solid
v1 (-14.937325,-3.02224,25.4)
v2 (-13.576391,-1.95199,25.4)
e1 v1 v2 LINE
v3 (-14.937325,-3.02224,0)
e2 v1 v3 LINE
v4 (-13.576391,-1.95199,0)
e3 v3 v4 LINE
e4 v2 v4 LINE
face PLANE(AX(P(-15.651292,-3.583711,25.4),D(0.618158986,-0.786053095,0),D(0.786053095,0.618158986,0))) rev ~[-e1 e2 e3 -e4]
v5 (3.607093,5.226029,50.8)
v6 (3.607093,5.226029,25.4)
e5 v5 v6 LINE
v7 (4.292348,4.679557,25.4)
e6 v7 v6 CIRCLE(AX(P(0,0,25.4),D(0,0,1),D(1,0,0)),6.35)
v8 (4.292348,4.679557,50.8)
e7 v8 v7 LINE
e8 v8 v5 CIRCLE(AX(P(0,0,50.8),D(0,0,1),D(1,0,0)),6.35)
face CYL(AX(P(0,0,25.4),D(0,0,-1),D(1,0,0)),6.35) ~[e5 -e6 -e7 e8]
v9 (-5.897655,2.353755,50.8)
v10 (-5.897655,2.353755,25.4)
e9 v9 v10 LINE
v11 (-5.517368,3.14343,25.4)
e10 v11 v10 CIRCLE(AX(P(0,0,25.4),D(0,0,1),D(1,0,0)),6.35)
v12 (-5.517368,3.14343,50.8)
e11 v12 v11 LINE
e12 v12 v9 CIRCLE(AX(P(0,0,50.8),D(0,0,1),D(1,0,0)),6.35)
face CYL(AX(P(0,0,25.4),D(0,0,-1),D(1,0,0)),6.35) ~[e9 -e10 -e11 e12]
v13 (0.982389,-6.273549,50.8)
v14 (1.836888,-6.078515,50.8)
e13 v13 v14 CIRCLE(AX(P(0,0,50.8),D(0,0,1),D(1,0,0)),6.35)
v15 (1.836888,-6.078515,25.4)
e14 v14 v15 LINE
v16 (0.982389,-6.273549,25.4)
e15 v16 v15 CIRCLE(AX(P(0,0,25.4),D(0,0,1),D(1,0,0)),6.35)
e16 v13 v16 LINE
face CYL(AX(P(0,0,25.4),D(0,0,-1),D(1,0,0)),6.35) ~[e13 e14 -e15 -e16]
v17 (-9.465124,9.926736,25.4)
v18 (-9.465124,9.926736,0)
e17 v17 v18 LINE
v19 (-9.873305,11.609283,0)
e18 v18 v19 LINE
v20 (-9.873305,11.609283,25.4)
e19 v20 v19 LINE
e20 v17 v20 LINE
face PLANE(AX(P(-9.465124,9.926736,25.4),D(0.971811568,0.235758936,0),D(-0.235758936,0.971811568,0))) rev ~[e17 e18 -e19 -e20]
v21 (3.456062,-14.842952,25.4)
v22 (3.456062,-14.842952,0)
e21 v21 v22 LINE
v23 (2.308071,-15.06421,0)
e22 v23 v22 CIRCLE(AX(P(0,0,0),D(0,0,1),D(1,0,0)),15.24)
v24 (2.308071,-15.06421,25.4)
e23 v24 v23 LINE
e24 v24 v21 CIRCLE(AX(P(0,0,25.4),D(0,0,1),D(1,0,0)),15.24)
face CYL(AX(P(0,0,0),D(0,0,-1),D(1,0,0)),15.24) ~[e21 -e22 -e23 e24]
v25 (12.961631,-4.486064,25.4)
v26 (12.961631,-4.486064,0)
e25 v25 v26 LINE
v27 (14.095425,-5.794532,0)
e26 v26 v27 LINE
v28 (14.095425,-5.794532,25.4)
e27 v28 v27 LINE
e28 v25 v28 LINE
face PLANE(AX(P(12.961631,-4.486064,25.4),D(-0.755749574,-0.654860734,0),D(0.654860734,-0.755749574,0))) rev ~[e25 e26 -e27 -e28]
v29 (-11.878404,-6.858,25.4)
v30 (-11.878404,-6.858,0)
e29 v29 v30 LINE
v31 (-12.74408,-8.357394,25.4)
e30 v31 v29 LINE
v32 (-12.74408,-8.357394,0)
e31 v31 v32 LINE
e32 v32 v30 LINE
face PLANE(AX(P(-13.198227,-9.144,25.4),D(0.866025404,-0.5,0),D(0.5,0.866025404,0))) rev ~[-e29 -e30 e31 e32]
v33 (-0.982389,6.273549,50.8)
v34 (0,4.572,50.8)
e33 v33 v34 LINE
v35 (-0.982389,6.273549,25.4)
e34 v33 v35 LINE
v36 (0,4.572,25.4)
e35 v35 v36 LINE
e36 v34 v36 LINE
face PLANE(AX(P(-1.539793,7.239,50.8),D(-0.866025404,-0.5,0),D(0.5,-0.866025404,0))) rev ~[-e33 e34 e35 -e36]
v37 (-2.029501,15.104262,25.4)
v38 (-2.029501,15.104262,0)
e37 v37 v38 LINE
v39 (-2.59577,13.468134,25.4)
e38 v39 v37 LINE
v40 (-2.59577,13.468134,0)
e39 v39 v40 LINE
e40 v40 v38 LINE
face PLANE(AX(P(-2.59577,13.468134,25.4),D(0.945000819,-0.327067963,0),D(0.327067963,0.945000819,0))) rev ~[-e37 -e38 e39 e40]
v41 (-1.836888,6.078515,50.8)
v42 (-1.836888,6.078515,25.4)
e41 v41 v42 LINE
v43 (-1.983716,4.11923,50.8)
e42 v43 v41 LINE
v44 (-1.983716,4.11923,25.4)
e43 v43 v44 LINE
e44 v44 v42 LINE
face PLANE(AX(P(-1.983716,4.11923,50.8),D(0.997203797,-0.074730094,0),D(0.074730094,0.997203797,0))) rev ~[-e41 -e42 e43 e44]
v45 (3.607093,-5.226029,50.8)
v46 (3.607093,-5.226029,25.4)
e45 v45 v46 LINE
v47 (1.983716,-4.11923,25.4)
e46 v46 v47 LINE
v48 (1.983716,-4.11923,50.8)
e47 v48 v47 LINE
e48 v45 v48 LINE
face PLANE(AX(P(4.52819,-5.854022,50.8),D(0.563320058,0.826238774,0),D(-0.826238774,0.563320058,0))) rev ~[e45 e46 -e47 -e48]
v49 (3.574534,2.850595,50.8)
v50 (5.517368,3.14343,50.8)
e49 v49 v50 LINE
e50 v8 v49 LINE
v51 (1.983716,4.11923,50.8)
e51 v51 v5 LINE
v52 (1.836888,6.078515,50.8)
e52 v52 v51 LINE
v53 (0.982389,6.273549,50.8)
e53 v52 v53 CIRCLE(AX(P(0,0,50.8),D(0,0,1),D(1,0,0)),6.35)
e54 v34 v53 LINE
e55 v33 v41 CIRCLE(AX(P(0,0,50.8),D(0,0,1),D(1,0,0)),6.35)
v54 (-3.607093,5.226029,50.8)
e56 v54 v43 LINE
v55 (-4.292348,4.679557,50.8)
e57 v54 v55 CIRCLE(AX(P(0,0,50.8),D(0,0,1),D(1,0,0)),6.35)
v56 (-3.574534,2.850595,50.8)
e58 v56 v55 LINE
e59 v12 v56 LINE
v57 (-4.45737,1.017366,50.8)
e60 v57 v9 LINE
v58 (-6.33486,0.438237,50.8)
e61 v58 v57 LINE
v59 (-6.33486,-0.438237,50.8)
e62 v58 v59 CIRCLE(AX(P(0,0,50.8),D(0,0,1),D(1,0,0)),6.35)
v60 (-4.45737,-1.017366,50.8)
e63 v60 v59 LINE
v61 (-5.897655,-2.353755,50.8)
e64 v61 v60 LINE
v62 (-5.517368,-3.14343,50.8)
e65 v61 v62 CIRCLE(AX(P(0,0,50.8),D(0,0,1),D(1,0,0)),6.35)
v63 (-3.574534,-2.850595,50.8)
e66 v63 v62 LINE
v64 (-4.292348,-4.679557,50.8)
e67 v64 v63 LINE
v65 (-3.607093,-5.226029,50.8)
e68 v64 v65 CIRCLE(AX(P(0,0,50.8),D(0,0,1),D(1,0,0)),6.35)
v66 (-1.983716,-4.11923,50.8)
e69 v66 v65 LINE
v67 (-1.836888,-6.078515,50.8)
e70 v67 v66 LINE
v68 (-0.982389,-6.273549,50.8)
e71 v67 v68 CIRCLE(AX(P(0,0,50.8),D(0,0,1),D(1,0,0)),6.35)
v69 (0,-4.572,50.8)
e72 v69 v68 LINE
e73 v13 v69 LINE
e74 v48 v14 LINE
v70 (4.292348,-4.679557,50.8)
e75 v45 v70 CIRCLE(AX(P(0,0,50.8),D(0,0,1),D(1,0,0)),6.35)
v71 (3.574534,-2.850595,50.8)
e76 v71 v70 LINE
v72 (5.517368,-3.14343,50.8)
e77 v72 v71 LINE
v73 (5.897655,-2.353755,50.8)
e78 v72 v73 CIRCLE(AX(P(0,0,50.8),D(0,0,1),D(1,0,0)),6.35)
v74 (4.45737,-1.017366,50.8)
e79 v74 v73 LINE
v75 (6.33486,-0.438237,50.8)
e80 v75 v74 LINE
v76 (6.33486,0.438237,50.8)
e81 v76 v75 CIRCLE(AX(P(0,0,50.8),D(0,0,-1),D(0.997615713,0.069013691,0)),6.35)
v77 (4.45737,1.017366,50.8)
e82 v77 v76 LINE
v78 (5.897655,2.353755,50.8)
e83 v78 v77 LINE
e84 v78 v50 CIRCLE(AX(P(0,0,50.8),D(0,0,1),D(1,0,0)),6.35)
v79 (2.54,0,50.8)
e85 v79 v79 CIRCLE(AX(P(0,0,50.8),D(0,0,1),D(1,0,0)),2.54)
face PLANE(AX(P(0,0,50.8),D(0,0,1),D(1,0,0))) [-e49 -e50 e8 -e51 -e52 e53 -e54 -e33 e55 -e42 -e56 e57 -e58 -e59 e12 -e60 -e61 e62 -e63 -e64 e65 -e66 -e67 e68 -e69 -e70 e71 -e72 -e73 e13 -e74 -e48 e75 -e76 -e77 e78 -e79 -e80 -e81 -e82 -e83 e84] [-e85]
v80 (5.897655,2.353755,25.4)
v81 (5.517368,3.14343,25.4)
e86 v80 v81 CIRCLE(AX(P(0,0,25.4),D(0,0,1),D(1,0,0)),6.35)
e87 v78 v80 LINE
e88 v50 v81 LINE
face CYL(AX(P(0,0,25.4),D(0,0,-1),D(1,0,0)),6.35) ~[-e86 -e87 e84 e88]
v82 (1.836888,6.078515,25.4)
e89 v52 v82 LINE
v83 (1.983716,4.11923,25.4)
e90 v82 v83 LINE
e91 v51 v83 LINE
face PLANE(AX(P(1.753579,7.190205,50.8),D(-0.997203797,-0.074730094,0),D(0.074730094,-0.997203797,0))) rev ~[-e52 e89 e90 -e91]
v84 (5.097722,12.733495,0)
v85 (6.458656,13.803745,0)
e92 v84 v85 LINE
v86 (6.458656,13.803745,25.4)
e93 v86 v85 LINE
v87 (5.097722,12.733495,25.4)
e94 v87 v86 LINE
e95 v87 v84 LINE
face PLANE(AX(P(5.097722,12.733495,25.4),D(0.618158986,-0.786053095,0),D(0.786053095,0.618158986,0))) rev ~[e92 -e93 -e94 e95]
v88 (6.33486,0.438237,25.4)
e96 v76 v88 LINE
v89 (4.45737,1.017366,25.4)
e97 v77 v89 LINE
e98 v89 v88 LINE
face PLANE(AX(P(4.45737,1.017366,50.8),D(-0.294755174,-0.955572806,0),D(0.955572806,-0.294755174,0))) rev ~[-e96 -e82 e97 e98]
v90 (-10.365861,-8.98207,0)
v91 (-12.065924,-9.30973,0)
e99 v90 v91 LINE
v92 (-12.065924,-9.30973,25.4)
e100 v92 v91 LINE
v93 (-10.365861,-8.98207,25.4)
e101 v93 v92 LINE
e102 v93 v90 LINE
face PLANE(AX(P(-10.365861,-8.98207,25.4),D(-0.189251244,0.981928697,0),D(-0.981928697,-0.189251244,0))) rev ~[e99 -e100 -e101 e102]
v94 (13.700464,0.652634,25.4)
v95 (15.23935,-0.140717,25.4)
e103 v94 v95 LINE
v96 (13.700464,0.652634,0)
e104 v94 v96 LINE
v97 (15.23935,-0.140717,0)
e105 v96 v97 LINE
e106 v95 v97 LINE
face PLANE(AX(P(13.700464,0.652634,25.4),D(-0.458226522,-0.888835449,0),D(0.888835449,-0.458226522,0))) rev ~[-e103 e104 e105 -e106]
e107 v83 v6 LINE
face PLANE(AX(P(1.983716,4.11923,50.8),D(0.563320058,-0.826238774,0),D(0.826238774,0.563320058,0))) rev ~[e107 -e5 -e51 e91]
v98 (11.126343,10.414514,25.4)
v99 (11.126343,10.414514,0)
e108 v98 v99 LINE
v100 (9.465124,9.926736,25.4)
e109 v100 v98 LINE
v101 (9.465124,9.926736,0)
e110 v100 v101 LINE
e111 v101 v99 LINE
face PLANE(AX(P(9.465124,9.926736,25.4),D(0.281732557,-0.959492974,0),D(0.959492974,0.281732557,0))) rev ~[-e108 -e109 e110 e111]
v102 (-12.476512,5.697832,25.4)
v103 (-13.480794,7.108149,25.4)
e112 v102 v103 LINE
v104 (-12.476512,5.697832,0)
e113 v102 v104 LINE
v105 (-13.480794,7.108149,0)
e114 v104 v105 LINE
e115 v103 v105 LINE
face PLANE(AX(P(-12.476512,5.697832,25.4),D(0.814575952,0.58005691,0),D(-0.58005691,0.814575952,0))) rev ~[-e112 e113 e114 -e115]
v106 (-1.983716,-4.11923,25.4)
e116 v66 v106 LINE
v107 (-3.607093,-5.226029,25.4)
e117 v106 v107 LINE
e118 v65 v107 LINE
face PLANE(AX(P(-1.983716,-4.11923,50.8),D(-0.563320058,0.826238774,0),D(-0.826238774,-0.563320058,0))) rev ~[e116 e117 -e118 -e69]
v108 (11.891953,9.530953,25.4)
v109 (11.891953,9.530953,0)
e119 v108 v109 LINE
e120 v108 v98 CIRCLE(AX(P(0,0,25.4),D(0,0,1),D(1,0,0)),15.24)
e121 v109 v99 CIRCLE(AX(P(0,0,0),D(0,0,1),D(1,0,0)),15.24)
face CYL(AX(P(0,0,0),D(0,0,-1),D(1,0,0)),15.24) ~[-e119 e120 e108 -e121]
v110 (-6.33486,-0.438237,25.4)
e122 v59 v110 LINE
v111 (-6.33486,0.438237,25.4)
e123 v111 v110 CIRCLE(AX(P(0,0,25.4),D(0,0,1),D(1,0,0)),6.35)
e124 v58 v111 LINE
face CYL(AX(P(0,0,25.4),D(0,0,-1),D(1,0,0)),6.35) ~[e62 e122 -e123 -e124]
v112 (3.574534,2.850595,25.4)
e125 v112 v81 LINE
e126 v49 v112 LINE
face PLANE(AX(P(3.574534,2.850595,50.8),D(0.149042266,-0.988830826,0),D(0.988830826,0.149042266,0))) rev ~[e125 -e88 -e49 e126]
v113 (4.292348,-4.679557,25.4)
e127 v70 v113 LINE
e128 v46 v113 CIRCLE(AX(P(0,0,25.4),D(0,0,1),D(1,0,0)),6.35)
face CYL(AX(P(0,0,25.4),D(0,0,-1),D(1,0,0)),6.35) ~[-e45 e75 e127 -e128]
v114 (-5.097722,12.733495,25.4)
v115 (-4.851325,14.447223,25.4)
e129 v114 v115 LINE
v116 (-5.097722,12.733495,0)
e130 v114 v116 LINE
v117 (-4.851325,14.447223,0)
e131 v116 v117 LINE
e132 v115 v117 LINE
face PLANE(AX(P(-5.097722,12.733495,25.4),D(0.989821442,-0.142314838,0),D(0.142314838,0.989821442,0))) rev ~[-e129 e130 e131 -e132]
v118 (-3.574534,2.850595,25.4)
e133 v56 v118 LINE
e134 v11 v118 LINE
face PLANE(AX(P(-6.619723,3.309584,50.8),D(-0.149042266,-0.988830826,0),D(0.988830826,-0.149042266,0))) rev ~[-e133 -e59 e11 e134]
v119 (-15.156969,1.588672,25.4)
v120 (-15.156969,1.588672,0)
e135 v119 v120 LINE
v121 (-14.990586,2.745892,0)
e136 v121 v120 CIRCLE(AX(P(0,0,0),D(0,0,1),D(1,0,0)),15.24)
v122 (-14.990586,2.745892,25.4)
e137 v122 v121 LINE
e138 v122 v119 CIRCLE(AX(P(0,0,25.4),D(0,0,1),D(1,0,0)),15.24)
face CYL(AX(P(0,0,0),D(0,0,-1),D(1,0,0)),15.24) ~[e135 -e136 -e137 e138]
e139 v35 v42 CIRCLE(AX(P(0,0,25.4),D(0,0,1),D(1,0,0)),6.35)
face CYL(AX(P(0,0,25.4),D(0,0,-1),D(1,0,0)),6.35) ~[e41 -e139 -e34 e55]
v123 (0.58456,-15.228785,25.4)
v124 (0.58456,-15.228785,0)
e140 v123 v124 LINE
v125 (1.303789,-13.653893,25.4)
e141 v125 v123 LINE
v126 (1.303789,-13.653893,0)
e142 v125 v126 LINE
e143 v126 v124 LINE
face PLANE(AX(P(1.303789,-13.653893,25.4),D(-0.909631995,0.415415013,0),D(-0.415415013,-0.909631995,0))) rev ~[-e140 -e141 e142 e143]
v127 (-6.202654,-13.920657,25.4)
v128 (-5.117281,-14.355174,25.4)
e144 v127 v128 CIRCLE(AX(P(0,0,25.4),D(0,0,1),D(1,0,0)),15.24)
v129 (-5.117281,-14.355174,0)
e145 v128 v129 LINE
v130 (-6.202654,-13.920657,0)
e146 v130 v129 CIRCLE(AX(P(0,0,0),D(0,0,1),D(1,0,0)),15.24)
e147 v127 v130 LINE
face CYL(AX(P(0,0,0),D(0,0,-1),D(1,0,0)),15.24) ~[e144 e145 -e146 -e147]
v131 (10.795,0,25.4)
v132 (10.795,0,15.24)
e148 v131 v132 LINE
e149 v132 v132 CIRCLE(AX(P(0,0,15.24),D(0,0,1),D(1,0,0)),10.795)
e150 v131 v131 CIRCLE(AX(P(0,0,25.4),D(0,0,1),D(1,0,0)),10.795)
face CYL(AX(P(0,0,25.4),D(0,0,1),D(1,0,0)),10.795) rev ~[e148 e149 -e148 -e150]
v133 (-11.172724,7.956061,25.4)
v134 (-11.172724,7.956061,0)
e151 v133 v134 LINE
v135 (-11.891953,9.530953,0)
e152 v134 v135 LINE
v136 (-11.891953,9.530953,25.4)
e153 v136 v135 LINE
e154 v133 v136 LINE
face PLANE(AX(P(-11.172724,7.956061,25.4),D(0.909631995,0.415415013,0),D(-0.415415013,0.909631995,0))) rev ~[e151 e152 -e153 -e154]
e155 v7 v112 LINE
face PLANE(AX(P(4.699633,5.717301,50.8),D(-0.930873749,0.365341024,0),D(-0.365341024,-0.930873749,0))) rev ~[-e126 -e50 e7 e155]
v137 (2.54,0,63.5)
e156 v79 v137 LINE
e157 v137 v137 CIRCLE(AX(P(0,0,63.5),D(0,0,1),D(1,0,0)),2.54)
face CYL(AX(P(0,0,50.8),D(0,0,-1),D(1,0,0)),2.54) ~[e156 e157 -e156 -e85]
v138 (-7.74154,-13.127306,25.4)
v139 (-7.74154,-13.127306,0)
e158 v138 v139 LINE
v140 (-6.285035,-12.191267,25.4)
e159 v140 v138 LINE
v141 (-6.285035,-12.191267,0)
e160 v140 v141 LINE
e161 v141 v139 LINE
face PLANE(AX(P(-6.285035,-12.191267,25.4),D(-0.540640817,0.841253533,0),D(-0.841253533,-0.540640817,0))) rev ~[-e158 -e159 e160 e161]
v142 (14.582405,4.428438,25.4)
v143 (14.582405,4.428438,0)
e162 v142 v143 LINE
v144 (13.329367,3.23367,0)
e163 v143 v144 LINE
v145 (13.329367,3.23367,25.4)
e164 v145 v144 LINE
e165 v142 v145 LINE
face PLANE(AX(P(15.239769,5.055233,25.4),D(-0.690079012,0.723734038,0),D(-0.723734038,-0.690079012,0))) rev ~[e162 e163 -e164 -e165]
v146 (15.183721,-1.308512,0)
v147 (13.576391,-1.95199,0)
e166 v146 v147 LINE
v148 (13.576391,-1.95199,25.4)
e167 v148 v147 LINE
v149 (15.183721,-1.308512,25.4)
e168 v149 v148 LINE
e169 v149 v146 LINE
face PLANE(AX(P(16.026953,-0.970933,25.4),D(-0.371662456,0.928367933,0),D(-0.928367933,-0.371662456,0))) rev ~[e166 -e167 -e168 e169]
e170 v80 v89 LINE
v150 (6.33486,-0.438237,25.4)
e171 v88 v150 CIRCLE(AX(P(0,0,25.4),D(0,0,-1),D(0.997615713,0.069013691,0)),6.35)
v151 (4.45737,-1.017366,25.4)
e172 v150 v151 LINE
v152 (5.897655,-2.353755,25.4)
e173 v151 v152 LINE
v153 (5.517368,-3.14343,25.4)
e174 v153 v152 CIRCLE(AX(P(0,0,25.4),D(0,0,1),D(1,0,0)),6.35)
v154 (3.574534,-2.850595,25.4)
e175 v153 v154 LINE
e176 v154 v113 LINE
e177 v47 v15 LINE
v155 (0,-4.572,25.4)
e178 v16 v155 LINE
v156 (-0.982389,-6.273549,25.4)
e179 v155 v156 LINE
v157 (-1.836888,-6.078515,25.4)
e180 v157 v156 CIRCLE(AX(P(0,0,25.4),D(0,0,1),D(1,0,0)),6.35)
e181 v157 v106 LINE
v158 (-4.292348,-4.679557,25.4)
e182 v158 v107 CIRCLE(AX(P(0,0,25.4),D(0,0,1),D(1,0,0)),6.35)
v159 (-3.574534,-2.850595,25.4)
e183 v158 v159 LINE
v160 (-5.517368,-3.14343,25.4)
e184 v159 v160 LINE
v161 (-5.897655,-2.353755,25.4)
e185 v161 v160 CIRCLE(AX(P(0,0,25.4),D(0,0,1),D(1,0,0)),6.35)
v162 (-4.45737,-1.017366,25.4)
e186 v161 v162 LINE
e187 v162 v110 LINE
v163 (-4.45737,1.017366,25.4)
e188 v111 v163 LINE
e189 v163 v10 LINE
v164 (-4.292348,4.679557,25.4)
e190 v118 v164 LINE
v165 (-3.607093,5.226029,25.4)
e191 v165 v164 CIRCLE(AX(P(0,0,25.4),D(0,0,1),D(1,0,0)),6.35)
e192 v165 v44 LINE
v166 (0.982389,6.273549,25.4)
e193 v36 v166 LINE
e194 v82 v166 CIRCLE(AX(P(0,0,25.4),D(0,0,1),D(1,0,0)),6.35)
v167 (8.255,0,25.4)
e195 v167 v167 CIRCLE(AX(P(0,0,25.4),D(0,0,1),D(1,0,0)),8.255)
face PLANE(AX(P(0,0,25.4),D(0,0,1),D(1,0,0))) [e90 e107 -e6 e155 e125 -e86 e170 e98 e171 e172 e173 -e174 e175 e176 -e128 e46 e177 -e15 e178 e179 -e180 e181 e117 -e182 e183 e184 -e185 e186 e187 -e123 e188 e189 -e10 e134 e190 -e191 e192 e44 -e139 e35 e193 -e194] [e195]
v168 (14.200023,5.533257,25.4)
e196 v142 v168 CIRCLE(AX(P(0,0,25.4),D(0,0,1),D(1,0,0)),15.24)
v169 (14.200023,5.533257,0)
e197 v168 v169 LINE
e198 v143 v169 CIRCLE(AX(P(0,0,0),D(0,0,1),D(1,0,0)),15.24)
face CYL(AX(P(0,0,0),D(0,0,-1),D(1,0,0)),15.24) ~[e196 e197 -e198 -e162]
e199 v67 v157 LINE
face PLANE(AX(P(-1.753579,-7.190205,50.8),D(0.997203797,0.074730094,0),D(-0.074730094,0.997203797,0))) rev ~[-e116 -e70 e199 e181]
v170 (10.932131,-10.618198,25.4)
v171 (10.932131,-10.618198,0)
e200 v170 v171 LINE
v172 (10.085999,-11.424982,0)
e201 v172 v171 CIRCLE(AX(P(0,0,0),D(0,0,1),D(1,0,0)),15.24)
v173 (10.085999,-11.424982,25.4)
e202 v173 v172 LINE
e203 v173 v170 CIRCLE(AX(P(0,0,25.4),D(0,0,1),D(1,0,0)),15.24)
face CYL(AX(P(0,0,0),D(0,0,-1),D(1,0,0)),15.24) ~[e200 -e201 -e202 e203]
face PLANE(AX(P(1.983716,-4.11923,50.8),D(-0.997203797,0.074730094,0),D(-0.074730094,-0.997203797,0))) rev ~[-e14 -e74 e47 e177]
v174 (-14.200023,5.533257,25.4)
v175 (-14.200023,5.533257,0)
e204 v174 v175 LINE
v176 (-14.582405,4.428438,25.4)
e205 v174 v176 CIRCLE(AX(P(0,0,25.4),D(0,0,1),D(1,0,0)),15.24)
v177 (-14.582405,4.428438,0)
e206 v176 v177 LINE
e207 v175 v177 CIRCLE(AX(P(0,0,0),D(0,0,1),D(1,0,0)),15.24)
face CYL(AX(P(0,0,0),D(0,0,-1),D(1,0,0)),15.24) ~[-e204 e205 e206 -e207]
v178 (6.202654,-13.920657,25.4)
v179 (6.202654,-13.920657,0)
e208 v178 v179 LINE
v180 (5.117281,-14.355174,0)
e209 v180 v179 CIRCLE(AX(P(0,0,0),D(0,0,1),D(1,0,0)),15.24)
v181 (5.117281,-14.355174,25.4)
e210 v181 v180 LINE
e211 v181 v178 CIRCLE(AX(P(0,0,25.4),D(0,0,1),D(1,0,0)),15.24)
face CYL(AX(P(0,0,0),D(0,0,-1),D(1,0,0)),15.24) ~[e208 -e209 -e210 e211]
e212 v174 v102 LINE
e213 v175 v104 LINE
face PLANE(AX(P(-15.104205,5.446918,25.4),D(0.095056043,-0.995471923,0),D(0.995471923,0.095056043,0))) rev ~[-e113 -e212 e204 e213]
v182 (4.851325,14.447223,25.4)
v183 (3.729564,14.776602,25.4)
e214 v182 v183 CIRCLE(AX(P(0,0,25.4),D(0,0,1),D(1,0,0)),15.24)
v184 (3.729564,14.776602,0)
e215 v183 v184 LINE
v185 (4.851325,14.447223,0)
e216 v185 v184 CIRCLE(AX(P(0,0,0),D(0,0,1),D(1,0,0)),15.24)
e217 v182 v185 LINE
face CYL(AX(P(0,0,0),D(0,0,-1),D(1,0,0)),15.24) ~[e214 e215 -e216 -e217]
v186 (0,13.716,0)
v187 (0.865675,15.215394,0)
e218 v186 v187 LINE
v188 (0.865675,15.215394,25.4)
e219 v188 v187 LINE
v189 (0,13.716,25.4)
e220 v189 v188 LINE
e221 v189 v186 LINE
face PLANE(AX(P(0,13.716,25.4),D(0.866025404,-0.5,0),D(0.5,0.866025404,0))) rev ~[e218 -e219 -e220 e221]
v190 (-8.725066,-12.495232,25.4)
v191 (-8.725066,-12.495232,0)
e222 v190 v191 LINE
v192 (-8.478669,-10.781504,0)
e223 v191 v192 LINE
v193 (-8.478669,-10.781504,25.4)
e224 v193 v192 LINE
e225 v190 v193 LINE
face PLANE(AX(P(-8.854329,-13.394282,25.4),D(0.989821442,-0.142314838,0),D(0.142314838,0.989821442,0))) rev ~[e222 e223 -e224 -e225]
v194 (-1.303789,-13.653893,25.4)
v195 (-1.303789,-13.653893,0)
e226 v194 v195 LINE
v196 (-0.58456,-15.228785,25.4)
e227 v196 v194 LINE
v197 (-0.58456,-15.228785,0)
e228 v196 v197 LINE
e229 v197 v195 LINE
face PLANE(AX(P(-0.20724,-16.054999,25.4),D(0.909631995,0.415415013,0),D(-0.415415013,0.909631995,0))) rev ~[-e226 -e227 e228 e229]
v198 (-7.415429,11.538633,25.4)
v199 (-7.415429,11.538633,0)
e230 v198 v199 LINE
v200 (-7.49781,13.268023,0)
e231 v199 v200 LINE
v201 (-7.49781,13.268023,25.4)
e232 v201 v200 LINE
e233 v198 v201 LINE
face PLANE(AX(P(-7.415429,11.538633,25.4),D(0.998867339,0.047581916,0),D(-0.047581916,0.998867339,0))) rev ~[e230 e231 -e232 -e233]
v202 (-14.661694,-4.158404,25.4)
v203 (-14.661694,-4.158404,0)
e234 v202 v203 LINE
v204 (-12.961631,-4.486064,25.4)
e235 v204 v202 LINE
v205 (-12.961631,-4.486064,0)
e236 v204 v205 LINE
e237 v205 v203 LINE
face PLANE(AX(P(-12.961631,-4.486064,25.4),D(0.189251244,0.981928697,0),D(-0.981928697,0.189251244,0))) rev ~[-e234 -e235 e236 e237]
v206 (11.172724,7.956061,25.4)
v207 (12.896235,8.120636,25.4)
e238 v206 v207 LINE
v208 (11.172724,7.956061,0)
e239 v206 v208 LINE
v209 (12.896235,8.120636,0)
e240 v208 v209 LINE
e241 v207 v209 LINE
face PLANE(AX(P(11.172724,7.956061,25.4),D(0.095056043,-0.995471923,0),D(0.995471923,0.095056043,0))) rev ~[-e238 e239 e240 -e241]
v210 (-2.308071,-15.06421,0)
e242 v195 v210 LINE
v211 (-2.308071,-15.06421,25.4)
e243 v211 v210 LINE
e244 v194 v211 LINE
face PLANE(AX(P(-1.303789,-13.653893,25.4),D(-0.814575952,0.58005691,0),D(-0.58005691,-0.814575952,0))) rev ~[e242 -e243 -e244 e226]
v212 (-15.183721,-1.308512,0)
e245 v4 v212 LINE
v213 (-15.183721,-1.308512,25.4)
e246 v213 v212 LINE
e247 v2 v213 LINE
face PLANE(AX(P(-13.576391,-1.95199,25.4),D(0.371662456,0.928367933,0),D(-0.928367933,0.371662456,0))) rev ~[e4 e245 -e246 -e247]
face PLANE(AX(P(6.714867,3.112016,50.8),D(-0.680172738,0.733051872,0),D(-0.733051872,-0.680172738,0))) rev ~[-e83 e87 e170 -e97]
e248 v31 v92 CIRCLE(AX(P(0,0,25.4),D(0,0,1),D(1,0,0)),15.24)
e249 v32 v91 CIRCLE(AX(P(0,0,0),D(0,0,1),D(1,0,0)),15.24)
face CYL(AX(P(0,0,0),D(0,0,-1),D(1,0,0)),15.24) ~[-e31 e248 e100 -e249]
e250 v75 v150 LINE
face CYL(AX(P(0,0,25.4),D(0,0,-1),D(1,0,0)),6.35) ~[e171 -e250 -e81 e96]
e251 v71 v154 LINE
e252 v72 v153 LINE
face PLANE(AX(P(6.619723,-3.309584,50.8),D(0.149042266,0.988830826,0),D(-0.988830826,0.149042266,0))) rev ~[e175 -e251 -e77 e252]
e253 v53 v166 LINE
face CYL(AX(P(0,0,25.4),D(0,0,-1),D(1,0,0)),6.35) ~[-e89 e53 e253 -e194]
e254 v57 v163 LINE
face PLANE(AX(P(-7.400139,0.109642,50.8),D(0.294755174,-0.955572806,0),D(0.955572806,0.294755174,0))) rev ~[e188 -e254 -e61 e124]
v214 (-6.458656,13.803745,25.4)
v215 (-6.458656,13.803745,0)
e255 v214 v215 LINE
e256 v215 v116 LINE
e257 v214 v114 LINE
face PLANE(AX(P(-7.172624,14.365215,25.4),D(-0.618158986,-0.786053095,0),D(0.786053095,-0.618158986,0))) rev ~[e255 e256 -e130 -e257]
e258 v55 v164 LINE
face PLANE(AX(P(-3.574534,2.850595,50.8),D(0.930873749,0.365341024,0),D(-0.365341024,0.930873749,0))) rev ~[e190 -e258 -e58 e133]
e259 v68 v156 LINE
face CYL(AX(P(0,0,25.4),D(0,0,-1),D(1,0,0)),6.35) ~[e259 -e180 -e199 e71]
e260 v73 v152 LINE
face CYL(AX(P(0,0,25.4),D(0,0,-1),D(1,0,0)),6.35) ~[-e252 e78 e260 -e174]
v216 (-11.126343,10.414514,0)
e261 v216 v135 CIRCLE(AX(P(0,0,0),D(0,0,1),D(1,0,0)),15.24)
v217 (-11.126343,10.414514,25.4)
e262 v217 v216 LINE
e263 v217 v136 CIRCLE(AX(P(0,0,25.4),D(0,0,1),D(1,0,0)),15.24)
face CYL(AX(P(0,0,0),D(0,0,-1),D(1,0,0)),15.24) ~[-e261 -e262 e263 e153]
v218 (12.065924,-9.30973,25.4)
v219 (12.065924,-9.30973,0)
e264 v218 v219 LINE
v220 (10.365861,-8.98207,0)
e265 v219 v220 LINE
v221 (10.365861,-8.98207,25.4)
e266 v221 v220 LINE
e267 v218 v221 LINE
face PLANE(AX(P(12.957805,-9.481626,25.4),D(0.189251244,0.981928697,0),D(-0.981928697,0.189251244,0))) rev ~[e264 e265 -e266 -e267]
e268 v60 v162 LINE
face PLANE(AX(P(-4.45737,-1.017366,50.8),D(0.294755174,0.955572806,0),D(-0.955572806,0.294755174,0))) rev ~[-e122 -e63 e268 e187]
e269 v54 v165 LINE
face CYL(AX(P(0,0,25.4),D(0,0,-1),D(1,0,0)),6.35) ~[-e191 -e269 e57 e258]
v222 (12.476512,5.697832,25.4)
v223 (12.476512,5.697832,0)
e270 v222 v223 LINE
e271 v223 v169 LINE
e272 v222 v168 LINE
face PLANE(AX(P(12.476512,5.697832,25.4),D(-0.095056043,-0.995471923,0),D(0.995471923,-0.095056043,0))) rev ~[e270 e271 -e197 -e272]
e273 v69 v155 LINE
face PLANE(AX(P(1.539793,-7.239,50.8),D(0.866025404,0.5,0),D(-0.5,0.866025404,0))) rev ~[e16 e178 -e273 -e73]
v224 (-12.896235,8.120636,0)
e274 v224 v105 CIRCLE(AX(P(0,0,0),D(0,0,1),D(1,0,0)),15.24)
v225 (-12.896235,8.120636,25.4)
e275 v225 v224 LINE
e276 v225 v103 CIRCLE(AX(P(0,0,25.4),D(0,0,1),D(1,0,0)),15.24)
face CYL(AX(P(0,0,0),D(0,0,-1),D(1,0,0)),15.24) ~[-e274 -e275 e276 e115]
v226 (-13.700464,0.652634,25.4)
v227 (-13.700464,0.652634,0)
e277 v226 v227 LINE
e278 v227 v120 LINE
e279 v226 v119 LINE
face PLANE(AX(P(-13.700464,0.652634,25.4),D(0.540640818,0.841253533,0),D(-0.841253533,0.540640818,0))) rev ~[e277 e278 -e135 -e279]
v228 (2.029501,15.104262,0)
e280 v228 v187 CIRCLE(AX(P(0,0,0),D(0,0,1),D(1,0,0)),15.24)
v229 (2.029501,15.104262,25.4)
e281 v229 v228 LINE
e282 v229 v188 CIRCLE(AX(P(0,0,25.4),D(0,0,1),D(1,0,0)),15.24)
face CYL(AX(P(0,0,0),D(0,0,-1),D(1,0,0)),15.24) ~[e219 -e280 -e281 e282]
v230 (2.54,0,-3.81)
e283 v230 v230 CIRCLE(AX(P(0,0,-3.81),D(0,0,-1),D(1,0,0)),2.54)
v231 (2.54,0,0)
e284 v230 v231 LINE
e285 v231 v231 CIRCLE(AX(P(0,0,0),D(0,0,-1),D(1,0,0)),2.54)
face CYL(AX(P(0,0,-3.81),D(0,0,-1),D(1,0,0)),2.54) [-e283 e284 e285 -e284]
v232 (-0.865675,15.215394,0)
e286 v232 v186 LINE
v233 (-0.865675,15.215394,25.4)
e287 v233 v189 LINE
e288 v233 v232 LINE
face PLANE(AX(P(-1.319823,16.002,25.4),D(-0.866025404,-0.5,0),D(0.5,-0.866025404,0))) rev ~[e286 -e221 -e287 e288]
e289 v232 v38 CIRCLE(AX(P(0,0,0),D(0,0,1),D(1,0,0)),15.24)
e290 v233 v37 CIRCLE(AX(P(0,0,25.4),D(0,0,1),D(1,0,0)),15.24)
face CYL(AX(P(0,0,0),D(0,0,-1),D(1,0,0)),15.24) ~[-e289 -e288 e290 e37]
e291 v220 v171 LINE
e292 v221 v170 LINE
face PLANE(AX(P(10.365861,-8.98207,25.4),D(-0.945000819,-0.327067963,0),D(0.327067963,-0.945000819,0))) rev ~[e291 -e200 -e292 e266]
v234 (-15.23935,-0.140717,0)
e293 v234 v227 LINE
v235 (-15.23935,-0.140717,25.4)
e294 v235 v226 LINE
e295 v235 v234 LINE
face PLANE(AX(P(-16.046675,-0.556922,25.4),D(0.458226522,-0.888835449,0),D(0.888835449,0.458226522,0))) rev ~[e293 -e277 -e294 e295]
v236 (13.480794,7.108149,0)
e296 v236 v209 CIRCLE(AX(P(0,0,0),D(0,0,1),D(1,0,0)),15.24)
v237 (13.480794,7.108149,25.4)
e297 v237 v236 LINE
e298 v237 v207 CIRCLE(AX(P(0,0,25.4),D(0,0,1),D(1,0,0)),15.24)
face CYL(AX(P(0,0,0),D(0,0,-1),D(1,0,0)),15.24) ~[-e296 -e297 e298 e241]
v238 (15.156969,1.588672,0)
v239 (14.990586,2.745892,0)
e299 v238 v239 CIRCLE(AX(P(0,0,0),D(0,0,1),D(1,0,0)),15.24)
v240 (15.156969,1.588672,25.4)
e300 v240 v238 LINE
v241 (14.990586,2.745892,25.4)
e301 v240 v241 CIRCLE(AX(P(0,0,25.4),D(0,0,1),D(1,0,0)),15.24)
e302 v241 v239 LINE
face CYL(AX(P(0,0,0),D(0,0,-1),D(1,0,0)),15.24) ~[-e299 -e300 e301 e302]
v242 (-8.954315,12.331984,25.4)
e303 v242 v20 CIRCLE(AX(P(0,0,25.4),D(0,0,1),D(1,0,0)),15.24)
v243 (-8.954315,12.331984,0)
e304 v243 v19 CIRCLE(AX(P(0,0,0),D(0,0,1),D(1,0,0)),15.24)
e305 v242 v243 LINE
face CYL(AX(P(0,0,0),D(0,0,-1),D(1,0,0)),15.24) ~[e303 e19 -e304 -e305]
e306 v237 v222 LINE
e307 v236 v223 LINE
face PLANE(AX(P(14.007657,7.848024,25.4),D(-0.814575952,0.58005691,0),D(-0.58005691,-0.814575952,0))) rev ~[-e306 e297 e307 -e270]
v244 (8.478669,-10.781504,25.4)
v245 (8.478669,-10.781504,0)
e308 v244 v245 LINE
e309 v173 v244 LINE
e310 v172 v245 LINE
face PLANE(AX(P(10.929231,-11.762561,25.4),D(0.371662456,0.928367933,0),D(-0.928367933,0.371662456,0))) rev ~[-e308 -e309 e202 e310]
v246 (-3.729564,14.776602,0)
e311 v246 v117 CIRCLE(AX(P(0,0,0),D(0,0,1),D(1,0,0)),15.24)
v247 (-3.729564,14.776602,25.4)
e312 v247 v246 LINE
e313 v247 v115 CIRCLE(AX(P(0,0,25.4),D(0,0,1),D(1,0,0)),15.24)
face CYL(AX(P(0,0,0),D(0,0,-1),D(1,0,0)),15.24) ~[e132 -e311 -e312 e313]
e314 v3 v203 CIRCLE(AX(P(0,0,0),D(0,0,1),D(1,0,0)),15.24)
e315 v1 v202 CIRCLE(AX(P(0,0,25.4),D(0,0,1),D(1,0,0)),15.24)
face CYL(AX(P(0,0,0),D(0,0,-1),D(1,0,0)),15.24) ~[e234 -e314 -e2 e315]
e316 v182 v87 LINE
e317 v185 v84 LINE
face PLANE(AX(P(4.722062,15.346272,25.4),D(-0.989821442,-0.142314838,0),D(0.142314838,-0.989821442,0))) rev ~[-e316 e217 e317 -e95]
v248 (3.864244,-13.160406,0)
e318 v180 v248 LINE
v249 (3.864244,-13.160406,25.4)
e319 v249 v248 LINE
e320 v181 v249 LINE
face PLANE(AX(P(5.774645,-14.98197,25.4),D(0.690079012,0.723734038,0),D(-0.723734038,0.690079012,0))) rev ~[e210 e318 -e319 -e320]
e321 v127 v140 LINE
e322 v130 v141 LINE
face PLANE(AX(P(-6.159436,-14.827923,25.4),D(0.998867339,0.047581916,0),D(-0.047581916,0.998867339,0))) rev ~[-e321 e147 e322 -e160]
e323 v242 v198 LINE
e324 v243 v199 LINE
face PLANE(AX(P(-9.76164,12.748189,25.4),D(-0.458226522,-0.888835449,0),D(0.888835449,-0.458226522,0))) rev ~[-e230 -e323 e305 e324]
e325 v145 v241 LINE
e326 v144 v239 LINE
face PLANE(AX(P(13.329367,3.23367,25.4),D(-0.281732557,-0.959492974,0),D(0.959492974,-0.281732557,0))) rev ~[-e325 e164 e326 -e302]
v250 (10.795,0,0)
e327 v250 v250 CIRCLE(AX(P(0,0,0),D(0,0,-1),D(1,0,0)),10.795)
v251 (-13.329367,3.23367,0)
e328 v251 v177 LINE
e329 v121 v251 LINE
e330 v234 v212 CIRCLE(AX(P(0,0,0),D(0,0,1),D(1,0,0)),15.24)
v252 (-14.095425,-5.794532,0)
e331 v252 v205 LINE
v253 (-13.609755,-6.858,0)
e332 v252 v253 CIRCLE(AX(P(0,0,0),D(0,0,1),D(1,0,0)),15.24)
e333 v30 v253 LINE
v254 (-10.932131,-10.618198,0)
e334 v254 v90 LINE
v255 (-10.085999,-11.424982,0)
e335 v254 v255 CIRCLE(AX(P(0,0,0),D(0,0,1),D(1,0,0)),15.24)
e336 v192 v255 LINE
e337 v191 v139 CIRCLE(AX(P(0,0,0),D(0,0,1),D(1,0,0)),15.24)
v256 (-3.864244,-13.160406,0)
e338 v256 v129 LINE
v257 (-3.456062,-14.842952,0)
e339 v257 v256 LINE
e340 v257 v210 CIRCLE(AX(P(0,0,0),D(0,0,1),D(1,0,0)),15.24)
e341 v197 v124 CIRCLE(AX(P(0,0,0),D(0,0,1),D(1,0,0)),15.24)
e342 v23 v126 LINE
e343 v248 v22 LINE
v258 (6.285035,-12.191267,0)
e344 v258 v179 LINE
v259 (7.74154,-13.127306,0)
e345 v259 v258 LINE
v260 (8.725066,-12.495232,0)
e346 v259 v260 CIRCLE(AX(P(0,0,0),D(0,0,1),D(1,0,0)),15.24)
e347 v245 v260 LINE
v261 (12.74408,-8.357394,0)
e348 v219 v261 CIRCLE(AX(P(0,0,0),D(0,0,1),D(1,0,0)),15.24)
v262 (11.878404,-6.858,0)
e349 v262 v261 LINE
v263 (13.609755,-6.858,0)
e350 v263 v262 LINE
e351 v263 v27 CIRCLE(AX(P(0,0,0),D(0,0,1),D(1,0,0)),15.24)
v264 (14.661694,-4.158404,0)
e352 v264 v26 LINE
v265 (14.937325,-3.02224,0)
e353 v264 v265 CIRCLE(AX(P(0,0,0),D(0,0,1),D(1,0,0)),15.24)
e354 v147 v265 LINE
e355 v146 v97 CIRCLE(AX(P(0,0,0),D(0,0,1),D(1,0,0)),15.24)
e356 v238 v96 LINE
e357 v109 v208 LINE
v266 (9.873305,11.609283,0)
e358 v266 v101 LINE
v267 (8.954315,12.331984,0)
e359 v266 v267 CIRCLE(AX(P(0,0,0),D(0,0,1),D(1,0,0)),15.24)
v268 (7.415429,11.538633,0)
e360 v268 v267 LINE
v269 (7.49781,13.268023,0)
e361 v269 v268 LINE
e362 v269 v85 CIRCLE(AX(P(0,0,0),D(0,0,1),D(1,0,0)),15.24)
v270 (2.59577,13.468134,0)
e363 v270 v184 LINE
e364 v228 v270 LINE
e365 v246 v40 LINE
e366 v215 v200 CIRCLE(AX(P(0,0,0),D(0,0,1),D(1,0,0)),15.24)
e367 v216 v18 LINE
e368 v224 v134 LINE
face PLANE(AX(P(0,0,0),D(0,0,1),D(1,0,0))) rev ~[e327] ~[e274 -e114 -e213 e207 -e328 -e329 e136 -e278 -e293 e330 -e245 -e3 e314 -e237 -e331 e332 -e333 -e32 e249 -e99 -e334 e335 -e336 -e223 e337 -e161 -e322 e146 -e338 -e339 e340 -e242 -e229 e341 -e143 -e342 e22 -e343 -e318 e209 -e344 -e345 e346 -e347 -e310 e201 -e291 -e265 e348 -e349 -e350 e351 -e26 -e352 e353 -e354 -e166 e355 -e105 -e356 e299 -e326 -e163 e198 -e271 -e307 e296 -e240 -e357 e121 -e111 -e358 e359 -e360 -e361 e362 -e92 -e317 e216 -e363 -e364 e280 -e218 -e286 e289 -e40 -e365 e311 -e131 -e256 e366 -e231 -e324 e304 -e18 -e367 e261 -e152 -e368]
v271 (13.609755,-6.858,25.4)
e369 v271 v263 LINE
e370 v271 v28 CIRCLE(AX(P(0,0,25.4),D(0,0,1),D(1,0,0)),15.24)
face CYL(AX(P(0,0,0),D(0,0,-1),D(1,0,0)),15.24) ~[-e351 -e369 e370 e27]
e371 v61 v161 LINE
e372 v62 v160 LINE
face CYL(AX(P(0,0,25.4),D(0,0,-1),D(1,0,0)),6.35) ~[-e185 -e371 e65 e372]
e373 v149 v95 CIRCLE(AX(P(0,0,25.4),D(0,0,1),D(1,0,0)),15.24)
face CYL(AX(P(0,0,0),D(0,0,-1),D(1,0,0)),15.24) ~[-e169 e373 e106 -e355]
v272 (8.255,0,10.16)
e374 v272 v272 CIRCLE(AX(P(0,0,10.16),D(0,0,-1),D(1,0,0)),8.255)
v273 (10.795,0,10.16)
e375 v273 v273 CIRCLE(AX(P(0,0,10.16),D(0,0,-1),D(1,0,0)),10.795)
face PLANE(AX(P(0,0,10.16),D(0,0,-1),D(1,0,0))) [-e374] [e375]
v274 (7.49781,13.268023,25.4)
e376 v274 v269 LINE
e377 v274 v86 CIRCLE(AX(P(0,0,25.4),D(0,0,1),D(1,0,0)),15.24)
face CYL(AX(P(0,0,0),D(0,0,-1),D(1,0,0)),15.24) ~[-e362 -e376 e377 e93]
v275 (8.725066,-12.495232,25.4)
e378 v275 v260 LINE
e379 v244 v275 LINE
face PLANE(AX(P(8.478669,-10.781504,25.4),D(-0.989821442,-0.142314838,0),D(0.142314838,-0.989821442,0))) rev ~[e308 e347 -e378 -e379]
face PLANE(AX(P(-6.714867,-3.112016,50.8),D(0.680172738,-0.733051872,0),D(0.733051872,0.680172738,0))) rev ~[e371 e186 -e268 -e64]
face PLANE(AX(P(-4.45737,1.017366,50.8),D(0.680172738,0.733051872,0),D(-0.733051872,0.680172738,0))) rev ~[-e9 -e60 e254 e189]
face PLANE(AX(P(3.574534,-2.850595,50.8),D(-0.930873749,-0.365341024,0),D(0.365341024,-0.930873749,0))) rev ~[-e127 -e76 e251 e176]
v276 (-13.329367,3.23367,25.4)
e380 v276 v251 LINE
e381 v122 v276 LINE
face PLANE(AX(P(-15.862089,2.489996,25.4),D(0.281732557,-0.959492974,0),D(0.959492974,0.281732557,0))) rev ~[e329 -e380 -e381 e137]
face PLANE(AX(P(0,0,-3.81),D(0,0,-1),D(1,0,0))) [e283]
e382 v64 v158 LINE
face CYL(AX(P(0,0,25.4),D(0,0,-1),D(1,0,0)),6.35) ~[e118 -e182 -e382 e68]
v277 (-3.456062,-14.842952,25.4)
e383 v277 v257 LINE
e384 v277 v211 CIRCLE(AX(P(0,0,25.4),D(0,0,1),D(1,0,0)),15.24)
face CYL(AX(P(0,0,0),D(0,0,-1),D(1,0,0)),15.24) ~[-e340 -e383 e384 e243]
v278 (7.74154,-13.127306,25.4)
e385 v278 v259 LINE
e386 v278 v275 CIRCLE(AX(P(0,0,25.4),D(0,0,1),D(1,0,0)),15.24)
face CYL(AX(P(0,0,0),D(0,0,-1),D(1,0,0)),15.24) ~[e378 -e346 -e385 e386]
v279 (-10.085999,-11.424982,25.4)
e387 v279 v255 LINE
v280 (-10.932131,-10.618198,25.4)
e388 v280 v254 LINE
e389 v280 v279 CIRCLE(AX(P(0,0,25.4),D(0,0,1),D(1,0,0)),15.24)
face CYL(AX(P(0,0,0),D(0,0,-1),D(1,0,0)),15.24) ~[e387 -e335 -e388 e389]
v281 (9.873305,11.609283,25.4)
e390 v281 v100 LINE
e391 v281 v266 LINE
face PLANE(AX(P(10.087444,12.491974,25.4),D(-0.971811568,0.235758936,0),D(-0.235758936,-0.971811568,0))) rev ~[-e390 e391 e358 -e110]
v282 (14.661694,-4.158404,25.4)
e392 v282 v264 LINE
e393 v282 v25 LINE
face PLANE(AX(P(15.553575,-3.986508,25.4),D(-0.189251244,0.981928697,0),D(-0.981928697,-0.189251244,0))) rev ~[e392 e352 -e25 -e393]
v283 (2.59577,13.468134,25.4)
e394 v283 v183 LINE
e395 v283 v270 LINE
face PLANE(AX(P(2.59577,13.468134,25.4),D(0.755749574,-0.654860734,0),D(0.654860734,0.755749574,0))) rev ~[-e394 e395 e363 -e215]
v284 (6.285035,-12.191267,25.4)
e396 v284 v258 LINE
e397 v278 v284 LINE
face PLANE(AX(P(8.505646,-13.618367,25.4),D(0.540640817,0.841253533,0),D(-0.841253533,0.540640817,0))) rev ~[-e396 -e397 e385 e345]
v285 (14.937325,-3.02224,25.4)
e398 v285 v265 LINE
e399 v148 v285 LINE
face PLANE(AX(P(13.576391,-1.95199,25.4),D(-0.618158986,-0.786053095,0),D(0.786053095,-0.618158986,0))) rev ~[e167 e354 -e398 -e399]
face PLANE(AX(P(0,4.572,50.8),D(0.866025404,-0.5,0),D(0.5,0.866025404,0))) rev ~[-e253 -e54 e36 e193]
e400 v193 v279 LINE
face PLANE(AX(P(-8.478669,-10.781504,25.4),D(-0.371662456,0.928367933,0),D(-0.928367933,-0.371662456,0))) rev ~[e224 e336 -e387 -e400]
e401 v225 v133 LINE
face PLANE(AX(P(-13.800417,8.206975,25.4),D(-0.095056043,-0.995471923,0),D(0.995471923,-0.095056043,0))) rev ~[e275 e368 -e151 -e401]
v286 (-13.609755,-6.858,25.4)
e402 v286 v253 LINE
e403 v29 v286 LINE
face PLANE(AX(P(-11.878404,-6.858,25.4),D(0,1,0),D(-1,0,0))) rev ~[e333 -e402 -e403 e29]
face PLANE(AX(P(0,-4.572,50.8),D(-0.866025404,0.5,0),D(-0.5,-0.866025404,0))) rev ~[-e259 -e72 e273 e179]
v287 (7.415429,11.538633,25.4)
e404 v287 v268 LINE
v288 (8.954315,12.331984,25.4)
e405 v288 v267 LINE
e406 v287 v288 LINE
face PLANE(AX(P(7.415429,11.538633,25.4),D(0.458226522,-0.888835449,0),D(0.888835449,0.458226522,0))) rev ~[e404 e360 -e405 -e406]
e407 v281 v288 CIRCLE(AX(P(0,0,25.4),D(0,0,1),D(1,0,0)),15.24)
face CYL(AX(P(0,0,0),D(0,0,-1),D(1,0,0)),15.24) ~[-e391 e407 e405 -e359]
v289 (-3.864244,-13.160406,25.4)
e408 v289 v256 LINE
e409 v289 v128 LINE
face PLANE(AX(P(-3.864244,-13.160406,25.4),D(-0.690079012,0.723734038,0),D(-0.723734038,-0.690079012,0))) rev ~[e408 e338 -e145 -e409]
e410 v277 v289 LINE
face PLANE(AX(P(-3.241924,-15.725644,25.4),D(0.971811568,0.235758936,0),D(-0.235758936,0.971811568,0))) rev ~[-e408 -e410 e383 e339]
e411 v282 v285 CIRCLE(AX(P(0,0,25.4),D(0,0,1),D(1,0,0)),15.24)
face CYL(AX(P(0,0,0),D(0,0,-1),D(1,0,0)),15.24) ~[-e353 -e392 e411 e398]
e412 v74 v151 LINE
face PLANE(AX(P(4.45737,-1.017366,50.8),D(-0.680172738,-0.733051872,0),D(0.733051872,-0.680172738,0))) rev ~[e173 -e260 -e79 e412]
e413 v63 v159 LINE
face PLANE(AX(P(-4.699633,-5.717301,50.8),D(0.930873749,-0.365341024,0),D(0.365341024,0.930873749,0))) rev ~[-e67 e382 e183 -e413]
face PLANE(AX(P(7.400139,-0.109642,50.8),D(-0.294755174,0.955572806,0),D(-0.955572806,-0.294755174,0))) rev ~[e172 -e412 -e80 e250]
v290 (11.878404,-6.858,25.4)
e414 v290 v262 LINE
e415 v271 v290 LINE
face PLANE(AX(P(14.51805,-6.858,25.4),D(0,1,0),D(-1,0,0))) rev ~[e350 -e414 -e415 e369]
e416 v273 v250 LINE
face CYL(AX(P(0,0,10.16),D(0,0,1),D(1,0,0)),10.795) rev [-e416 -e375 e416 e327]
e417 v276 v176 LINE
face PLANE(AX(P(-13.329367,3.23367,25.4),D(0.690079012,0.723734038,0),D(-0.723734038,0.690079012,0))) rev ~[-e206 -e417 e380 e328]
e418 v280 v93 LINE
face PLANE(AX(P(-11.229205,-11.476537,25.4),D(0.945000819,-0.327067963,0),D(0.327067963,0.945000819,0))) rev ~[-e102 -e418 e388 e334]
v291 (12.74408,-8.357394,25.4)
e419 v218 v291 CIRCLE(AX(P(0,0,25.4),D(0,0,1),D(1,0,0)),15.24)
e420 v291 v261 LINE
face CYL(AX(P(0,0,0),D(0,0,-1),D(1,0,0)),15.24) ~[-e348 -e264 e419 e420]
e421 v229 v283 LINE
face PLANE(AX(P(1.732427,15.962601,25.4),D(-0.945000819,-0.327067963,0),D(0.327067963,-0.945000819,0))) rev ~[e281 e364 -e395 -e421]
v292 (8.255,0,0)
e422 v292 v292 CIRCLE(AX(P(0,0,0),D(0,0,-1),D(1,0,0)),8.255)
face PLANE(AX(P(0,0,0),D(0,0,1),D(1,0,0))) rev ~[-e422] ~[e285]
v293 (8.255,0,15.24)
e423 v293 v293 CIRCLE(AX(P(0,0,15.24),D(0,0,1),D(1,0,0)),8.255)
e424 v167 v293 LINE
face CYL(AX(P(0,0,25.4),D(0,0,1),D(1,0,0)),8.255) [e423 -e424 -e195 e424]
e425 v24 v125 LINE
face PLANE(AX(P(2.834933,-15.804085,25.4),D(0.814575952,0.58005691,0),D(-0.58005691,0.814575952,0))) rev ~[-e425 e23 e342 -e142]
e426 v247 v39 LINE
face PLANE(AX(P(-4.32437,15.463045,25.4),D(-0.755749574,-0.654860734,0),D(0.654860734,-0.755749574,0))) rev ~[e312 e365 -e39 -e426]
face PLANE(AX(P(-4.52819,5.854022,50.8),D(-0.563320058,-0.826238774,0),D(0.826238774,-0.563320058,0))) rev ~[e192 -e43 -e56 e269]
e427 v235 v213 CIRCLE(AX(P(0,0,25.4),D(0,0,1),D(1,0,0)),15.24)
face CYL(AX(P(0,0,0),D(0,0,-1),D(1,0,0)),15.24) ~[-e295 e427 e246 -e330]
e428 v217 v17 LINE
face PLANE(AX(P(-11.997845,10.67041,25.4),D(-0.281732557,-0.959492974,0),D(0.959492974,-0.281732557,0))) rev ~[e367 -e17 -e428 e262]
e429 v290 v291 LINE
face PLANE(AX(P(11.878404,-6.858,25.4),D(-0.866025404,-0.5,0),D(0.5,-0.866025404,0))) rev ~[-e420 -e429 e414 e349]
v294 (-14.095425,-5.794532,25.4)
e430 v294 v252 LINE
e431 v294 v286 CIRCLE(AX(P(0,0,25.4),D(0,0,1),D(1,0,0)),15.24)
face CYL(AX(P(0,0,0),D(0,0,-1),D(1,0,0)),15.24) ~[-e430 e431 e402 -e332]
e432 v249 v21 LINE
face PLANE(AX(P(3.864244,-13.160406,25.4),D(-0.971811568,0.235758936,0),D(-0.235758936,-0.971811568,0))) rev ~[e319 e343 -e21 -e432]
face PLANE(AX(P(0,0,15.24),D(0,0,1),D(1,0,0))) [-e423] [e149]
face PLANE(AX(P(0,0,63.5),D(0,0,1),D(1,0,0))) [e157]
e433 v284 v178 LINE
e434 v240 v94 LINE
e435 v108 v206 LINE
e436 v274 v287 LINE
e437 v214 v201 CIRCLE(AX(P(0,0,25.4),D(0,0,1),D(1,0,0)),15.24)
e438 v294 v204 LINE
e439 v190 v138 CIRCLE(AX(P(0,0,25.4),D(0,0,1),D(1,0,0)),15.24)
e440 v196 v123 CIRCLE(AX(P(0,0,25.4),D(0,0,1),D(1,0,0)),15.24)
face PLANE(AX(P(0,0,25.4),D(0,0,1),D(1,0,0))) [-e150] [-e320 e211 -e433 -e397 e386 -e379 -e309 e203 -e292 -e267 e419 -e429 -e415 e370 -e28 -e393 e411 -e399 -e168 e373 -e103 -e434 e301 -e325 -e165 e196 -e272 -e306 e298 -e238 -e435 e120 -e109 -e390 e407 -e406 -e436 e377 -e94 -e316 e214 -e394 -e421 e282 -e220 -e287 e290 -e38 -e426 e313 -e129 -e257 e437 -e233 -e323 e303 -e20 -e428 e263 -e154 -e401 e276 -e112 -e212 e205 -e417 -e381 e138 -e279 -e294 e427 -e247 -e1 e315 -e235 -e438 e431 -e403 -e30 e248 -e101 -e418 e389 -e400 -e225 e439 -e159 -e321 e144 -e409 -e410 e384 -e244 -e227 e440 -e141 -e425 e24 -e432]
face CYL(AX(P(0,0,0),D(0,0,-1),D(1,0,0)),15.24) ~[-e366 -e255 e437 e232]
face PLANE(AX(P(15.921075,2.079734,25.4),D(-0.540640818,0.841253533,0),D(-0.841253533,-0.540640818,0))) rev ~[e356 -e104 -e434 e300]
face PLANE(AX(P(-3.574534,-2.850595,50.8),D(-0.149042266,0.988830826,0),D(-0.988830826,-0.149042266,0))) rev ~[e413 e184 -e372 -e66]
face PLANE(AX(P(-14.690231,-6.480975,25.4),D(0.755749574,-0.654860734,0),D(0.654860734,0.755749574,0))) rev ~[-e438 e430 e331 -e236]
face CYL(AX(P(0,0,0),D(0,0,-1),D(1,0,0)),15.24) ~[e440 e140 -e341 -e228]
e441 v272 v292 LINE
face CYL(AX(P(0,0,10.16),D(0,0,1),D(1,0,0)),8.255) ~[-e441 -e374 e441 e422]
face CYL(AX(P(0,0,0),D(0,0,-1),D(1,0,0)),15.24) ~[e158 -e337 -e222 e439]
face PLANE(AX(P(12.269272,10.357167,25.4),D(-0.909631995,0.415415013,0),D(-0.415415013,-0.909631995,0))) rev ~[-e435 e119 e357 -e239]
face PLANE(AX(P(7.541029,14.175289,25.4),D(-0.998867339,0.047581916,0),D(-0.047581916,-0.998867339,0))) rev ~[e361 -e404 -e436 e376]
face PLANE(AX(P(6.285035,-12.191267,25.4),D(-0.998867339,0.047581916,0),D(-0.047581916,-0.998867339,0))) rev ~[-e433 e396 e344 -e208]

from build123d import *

# Parameters (mm, degrees)
SKETCH1_R           = 15.24
BOSS_EXTRUDE1_DEPTH = 25.4
CUT_EXTRUDE1_DEPTH  = 25.4
SKETCH3_R           = 6.35
BOSS_EXTRUDE2_DEPTH = 25.4
CUT_EXTRUDE2_DEPTH  = 25.4
SKETCH6_R           = 10.795
SKETCH6_R_2         = 8.255
CUT_EXTRUDE3_DEPTH  = 10.16
CUT_EXTRUDE4_START  = -10.16
SKETCH7_R           = 10.795
SKETCH7_R_2         = 8.255
CUT_EXTRUDE4_DEPTH  = 10.16
SKETCH8_R           = 2.54
BOSS_EXTRUDE3_DEPTH = 12.7
BOSS_EXTRUDE4_START = 3.81
SKETCH9_R           = 2.54
BOSS_EXTRUDE4_DEPTH = 3.81


with BuildPart() as part:
    # Sketch1 → Boss-Extrude1 (new body)
    with BuildSketch(Plane.XY):
        Circle(SKETCH1_R)
    extrude(amount=BOSS_EXTRUDE1_DEPTH)

    # Sketch2 → Cut-Extrude1 (cut)
    with BuildSketch(Plane.XY.offset(25.4)):
        Polygon((2.595770068, 13.468134012), (4.324370212, 15.463044922), (1.732426613, 15.962601105), align=None)
        Polygon((0, 13.716), (1.319822715, 16.002), (-1.319822715, 16.002), align=None)
        Polygon((5.097722242, 12.733494569), (7.172623702, 14.365215113), (4.722061529, 15.346272216), align=None)
        Polygon((7.415429452, 11.538633456), (9.761639883, 12.748189001), (7.541028839, 14.175289064), align=None)
        Polygon((9.465123721, 9.926736067), (11.997844965, 10.670410123), (10.087443718, 12.491974033), align=None)
        Polygon((11.172723758, 7.956060572), (13.80041667, 8.206974822), (12.269272099, 10.357166512), align=None)
        Polygon((12.476512448, 5.697832318), (15.10420536, 5.446918068), (14.007657019, 7.848024008), align=None)
        Polygon((13.329367471, 3.233669559), (15.862088715, 2.489995503), (15.239768718, 5.055233469), align=None)
        Polygon((13.700464424, 0.652633557), (16.046674855, -0.556921987), (15.921075468, 2.079733621), align=None)
        Polygon((13.576390897, -1.951990322), (15.651292357, -3.583710865), (16.026953069, -0.970933219), align=None)
        Polygon((12.961631229, -4.486064185), (14.690231374, -6.480975096), (15.553574829, -3.986508002), align=None)
        Polygon((11.878404438, -6.858), (13.198227154, -9.144), (14.518049869, -6.858), align=None)
        Polygon((10.365861162, -8.982069827), (11.229204617, -11.47653692), (12.957804761, -9.481626009), align=None)
        Polygon((8.478668655, -10.781504247), (8.854329368, -13.394281894), (10.929230827, -11.76256135), align=None)
        Polygon((6.285034972, -12.191267014), (6.159435585, -14.827922622), (8.505646016, -13.618367077), align=None)
        Polygon((3.86424375, -13.160405626), (3.241923753, -15.725643592), (5.774644996, -14.981969536), align=None)
        Polygon((1.30378869, -13.65389289), (0.207240349, -16.05499883), (2.834933261, -15.80408458), align=None)
        Polygon((-1.30378869, -13.65389289), (-2.834933261, -15.80408458), (-0.207240349, -16.05499883), align=None)
        Polygon((-3.86424375, -13.160405626), (-5.774644996, -14.981969536), (-3.241923753, -15.725643592), align=None)
        Polygon((-6.285034972, -12.191267014), (-8.505646016, -13.618367077), (-6.159435585, -14.827922622), align=None)
        Polygon((-8.478668655, -10.781504247), (-10.929230827, -11.76256135), (-8.854329368, -13.394281894), align=None)
        Polygon((-10.365861162, -8.982069827), (-12.957804761, -9.481626009), (-11.229204617, -11.47653692), align=None)
        Polygon((-11.878404438, -6.858), (-14.518049869, -6.858), (-13.198227154, -9.144), align=None)
        Polygon((-12.961631229, -4.486064185), (-15.553574829, -3.986508002), (-14.690231374, -6.480975096), align=None)
        Polygon((-13.576390897, -1.951990322), (-16.026953069, -0.970933219), (-15.651292357, -3.583710865), align=None)
        Polygon((-13.700464424, 0.652633557), (-15.921075468, 2.079733621), (-16.046674855, -0.556921987), align=None)
        Polygon((-13.329367471, 3.233669559), (-15.239768718, 5.055233469), (-15.862088715, 2.489995503), align=None)
        Polygon((-12.476512448, 5.697832318), (-14.007657019, 7.848024008), (-15.10420536, 5.446918068), align=None)
        Polygon((-11.172723758, 7.956060572), (-12.269272099, 10.357166512), (-13.80041667, 8.206974822), align=None)
        Polygon((-9.465123721, 9.926736067), (-10.087443718, 12.491974033), (-11.997844965, 10.670410123), align=None)
        Polygon((-7.415429452, 11.538633456), (-7.541028839, 14.175289064), (-9.761639883, 12.748189001), align=None)
        Polygon((-5.097722242, 12.733494569), (-4.722061529, 15.346272216), (-7.172623702, 14.365215113), align=None)
        Polygon((-2.595770068, 13.468134012), (-1.732426613, 15.962601105), (-4.324370212, 15.463044922), align=None)
    extrude(amount=-CUT_EXTRUDE1_DEPTH, mode=Mode.SUBTRACT)

    # Sketch3 → Boss-Extrude2 (add)
    with BuildSketch(Plane.XY.offset(25.4)):
        Circle(SKETCH3_R)
    extrude(amount=BOSS_EXTRUDE2_DEPTH)

    # Sketch5 → Cut-Extrude2 (cut)
    with BuildSketch(Plane.XY.offset(50.8)):
        Polygon((1.983716455, 4.119229664), (4.528190095, 5.854022418), (1.75357868, 7.190204852), align=None)
        Polygon((0, 4.572), (1.539793168, 7.239), (-1.539793168, 7.239), align=None)
        Polygon((3.574533538, 2.850595374), (6.619723439, 3.3095839), (4.699632764, 5.717301451), align=None)
        Polygon((4.457370414, 1.01736571), (7.40013937, 0.109641703), (6.714866942, 3.112016379), align=None)
        Polygon((4.457370414, -1.01736571), (6.714866942, -3.112016379), (7.40013937, -0.109641703), align=None)
        Polygon((3.574533538, -2.850595374), (4.699632764, -5.717301451), (6.619723439, -3.3095839), align=None)
        Polygon((1.983716455, -4.119229664), (1.75357868, -7.190204852), (4.528190095, -5.854022418), align=None)
        Polygon((0, -4.572), (-1.539793168, -7.239), (1.539793168, -7.239), align=None)
        Polygon((-1.983716455, -4.119229664), (-4.528190095, -5.854022418), (-1.75357868, -7.190204852), align=None)
        Polygon((-3.574533538, -2.850595374), (-6.619723439, -3.3095839), (-4.699632764, -5.717301451), align=None)
        Polygon((-4.457370414, -1.01736571), (-7.40013937, -0.109641703), (-6.714866942, -3.112016379), align=None)
        Polygon((-4.457370414, 1.01736571), (-6.714866942, 3.112016379), (-7.40013937, 0.109641703), align=None)
        Polygon((-3.574533538, 2.850595374), (-4.699632764, 5.717301451), (-6.619723439, 3.3095839), align=None)
        Polygon((-1.983716455, 4.119229664), (-1.75357868, 7.190204852), (-4.528190095, 5.854022418), align=None)
    extrude(amount=-CUT_EXTRUDE2_DEPTH, mode=Mode.SUBTRACT)

    # Sketch6 → Cut-Extrude3 (cut)
    with BuildSketch(Plane.XY.offset(25.4)):
        Circle(SKETCH6_R)
        Circle(SKETCH6_R_2, mode=Mode.SUBTRACT)
    extrude(amount=-CUT_EXTRUDE3_DEPTH, mode=Mode.SUBTRACT)

    # Sketch7 → Cut-Extrude4 (cut)
    with BuildSketch(Plane(origin=(0, 0, 0), x_dir=(-1, 0, 0), z_dir=(0, 0, -1)).offset(CUT_EXTRUDE4_START)):
        with Locations(Location((0, 0, 0), (0, 0, 180))):
            Circle(SKETCH7_R)
        with Locations(Location((0, 0, 0), (0, 0, 180))):
            Circle(SKETCH7_R_2, mode=Mode.SUBTRACT)
    extrude(amount=CUT_EXTRUDE4_DEPTH, mode=Mode.SUBTRACT)

    # Sketch8 → Boss-Extrude3 (add)
    with BuildSketch(Plane.XY.offset(50.8)):
        Circle(SKETCH8_R)
    extrude(amount=BOSS_EXTRUDE3_DEPTH)

    # Sketch9 → Boss-Extrude4 (add)
    with BuildSketch(Plane(origin=(0, 0, 0), x_dir=(-1, 0, 0), z_dir=(0, 0, -1)).offset(BOSS_EXTRUDE4_START)):
        with Locations(Location((0, 0, 0), (0, 0, 180))):
            Circle(SKETCH9_R)
    extrude(amount=-BOSS_EXTRUDE4_DEPTH)


solid = part.part
